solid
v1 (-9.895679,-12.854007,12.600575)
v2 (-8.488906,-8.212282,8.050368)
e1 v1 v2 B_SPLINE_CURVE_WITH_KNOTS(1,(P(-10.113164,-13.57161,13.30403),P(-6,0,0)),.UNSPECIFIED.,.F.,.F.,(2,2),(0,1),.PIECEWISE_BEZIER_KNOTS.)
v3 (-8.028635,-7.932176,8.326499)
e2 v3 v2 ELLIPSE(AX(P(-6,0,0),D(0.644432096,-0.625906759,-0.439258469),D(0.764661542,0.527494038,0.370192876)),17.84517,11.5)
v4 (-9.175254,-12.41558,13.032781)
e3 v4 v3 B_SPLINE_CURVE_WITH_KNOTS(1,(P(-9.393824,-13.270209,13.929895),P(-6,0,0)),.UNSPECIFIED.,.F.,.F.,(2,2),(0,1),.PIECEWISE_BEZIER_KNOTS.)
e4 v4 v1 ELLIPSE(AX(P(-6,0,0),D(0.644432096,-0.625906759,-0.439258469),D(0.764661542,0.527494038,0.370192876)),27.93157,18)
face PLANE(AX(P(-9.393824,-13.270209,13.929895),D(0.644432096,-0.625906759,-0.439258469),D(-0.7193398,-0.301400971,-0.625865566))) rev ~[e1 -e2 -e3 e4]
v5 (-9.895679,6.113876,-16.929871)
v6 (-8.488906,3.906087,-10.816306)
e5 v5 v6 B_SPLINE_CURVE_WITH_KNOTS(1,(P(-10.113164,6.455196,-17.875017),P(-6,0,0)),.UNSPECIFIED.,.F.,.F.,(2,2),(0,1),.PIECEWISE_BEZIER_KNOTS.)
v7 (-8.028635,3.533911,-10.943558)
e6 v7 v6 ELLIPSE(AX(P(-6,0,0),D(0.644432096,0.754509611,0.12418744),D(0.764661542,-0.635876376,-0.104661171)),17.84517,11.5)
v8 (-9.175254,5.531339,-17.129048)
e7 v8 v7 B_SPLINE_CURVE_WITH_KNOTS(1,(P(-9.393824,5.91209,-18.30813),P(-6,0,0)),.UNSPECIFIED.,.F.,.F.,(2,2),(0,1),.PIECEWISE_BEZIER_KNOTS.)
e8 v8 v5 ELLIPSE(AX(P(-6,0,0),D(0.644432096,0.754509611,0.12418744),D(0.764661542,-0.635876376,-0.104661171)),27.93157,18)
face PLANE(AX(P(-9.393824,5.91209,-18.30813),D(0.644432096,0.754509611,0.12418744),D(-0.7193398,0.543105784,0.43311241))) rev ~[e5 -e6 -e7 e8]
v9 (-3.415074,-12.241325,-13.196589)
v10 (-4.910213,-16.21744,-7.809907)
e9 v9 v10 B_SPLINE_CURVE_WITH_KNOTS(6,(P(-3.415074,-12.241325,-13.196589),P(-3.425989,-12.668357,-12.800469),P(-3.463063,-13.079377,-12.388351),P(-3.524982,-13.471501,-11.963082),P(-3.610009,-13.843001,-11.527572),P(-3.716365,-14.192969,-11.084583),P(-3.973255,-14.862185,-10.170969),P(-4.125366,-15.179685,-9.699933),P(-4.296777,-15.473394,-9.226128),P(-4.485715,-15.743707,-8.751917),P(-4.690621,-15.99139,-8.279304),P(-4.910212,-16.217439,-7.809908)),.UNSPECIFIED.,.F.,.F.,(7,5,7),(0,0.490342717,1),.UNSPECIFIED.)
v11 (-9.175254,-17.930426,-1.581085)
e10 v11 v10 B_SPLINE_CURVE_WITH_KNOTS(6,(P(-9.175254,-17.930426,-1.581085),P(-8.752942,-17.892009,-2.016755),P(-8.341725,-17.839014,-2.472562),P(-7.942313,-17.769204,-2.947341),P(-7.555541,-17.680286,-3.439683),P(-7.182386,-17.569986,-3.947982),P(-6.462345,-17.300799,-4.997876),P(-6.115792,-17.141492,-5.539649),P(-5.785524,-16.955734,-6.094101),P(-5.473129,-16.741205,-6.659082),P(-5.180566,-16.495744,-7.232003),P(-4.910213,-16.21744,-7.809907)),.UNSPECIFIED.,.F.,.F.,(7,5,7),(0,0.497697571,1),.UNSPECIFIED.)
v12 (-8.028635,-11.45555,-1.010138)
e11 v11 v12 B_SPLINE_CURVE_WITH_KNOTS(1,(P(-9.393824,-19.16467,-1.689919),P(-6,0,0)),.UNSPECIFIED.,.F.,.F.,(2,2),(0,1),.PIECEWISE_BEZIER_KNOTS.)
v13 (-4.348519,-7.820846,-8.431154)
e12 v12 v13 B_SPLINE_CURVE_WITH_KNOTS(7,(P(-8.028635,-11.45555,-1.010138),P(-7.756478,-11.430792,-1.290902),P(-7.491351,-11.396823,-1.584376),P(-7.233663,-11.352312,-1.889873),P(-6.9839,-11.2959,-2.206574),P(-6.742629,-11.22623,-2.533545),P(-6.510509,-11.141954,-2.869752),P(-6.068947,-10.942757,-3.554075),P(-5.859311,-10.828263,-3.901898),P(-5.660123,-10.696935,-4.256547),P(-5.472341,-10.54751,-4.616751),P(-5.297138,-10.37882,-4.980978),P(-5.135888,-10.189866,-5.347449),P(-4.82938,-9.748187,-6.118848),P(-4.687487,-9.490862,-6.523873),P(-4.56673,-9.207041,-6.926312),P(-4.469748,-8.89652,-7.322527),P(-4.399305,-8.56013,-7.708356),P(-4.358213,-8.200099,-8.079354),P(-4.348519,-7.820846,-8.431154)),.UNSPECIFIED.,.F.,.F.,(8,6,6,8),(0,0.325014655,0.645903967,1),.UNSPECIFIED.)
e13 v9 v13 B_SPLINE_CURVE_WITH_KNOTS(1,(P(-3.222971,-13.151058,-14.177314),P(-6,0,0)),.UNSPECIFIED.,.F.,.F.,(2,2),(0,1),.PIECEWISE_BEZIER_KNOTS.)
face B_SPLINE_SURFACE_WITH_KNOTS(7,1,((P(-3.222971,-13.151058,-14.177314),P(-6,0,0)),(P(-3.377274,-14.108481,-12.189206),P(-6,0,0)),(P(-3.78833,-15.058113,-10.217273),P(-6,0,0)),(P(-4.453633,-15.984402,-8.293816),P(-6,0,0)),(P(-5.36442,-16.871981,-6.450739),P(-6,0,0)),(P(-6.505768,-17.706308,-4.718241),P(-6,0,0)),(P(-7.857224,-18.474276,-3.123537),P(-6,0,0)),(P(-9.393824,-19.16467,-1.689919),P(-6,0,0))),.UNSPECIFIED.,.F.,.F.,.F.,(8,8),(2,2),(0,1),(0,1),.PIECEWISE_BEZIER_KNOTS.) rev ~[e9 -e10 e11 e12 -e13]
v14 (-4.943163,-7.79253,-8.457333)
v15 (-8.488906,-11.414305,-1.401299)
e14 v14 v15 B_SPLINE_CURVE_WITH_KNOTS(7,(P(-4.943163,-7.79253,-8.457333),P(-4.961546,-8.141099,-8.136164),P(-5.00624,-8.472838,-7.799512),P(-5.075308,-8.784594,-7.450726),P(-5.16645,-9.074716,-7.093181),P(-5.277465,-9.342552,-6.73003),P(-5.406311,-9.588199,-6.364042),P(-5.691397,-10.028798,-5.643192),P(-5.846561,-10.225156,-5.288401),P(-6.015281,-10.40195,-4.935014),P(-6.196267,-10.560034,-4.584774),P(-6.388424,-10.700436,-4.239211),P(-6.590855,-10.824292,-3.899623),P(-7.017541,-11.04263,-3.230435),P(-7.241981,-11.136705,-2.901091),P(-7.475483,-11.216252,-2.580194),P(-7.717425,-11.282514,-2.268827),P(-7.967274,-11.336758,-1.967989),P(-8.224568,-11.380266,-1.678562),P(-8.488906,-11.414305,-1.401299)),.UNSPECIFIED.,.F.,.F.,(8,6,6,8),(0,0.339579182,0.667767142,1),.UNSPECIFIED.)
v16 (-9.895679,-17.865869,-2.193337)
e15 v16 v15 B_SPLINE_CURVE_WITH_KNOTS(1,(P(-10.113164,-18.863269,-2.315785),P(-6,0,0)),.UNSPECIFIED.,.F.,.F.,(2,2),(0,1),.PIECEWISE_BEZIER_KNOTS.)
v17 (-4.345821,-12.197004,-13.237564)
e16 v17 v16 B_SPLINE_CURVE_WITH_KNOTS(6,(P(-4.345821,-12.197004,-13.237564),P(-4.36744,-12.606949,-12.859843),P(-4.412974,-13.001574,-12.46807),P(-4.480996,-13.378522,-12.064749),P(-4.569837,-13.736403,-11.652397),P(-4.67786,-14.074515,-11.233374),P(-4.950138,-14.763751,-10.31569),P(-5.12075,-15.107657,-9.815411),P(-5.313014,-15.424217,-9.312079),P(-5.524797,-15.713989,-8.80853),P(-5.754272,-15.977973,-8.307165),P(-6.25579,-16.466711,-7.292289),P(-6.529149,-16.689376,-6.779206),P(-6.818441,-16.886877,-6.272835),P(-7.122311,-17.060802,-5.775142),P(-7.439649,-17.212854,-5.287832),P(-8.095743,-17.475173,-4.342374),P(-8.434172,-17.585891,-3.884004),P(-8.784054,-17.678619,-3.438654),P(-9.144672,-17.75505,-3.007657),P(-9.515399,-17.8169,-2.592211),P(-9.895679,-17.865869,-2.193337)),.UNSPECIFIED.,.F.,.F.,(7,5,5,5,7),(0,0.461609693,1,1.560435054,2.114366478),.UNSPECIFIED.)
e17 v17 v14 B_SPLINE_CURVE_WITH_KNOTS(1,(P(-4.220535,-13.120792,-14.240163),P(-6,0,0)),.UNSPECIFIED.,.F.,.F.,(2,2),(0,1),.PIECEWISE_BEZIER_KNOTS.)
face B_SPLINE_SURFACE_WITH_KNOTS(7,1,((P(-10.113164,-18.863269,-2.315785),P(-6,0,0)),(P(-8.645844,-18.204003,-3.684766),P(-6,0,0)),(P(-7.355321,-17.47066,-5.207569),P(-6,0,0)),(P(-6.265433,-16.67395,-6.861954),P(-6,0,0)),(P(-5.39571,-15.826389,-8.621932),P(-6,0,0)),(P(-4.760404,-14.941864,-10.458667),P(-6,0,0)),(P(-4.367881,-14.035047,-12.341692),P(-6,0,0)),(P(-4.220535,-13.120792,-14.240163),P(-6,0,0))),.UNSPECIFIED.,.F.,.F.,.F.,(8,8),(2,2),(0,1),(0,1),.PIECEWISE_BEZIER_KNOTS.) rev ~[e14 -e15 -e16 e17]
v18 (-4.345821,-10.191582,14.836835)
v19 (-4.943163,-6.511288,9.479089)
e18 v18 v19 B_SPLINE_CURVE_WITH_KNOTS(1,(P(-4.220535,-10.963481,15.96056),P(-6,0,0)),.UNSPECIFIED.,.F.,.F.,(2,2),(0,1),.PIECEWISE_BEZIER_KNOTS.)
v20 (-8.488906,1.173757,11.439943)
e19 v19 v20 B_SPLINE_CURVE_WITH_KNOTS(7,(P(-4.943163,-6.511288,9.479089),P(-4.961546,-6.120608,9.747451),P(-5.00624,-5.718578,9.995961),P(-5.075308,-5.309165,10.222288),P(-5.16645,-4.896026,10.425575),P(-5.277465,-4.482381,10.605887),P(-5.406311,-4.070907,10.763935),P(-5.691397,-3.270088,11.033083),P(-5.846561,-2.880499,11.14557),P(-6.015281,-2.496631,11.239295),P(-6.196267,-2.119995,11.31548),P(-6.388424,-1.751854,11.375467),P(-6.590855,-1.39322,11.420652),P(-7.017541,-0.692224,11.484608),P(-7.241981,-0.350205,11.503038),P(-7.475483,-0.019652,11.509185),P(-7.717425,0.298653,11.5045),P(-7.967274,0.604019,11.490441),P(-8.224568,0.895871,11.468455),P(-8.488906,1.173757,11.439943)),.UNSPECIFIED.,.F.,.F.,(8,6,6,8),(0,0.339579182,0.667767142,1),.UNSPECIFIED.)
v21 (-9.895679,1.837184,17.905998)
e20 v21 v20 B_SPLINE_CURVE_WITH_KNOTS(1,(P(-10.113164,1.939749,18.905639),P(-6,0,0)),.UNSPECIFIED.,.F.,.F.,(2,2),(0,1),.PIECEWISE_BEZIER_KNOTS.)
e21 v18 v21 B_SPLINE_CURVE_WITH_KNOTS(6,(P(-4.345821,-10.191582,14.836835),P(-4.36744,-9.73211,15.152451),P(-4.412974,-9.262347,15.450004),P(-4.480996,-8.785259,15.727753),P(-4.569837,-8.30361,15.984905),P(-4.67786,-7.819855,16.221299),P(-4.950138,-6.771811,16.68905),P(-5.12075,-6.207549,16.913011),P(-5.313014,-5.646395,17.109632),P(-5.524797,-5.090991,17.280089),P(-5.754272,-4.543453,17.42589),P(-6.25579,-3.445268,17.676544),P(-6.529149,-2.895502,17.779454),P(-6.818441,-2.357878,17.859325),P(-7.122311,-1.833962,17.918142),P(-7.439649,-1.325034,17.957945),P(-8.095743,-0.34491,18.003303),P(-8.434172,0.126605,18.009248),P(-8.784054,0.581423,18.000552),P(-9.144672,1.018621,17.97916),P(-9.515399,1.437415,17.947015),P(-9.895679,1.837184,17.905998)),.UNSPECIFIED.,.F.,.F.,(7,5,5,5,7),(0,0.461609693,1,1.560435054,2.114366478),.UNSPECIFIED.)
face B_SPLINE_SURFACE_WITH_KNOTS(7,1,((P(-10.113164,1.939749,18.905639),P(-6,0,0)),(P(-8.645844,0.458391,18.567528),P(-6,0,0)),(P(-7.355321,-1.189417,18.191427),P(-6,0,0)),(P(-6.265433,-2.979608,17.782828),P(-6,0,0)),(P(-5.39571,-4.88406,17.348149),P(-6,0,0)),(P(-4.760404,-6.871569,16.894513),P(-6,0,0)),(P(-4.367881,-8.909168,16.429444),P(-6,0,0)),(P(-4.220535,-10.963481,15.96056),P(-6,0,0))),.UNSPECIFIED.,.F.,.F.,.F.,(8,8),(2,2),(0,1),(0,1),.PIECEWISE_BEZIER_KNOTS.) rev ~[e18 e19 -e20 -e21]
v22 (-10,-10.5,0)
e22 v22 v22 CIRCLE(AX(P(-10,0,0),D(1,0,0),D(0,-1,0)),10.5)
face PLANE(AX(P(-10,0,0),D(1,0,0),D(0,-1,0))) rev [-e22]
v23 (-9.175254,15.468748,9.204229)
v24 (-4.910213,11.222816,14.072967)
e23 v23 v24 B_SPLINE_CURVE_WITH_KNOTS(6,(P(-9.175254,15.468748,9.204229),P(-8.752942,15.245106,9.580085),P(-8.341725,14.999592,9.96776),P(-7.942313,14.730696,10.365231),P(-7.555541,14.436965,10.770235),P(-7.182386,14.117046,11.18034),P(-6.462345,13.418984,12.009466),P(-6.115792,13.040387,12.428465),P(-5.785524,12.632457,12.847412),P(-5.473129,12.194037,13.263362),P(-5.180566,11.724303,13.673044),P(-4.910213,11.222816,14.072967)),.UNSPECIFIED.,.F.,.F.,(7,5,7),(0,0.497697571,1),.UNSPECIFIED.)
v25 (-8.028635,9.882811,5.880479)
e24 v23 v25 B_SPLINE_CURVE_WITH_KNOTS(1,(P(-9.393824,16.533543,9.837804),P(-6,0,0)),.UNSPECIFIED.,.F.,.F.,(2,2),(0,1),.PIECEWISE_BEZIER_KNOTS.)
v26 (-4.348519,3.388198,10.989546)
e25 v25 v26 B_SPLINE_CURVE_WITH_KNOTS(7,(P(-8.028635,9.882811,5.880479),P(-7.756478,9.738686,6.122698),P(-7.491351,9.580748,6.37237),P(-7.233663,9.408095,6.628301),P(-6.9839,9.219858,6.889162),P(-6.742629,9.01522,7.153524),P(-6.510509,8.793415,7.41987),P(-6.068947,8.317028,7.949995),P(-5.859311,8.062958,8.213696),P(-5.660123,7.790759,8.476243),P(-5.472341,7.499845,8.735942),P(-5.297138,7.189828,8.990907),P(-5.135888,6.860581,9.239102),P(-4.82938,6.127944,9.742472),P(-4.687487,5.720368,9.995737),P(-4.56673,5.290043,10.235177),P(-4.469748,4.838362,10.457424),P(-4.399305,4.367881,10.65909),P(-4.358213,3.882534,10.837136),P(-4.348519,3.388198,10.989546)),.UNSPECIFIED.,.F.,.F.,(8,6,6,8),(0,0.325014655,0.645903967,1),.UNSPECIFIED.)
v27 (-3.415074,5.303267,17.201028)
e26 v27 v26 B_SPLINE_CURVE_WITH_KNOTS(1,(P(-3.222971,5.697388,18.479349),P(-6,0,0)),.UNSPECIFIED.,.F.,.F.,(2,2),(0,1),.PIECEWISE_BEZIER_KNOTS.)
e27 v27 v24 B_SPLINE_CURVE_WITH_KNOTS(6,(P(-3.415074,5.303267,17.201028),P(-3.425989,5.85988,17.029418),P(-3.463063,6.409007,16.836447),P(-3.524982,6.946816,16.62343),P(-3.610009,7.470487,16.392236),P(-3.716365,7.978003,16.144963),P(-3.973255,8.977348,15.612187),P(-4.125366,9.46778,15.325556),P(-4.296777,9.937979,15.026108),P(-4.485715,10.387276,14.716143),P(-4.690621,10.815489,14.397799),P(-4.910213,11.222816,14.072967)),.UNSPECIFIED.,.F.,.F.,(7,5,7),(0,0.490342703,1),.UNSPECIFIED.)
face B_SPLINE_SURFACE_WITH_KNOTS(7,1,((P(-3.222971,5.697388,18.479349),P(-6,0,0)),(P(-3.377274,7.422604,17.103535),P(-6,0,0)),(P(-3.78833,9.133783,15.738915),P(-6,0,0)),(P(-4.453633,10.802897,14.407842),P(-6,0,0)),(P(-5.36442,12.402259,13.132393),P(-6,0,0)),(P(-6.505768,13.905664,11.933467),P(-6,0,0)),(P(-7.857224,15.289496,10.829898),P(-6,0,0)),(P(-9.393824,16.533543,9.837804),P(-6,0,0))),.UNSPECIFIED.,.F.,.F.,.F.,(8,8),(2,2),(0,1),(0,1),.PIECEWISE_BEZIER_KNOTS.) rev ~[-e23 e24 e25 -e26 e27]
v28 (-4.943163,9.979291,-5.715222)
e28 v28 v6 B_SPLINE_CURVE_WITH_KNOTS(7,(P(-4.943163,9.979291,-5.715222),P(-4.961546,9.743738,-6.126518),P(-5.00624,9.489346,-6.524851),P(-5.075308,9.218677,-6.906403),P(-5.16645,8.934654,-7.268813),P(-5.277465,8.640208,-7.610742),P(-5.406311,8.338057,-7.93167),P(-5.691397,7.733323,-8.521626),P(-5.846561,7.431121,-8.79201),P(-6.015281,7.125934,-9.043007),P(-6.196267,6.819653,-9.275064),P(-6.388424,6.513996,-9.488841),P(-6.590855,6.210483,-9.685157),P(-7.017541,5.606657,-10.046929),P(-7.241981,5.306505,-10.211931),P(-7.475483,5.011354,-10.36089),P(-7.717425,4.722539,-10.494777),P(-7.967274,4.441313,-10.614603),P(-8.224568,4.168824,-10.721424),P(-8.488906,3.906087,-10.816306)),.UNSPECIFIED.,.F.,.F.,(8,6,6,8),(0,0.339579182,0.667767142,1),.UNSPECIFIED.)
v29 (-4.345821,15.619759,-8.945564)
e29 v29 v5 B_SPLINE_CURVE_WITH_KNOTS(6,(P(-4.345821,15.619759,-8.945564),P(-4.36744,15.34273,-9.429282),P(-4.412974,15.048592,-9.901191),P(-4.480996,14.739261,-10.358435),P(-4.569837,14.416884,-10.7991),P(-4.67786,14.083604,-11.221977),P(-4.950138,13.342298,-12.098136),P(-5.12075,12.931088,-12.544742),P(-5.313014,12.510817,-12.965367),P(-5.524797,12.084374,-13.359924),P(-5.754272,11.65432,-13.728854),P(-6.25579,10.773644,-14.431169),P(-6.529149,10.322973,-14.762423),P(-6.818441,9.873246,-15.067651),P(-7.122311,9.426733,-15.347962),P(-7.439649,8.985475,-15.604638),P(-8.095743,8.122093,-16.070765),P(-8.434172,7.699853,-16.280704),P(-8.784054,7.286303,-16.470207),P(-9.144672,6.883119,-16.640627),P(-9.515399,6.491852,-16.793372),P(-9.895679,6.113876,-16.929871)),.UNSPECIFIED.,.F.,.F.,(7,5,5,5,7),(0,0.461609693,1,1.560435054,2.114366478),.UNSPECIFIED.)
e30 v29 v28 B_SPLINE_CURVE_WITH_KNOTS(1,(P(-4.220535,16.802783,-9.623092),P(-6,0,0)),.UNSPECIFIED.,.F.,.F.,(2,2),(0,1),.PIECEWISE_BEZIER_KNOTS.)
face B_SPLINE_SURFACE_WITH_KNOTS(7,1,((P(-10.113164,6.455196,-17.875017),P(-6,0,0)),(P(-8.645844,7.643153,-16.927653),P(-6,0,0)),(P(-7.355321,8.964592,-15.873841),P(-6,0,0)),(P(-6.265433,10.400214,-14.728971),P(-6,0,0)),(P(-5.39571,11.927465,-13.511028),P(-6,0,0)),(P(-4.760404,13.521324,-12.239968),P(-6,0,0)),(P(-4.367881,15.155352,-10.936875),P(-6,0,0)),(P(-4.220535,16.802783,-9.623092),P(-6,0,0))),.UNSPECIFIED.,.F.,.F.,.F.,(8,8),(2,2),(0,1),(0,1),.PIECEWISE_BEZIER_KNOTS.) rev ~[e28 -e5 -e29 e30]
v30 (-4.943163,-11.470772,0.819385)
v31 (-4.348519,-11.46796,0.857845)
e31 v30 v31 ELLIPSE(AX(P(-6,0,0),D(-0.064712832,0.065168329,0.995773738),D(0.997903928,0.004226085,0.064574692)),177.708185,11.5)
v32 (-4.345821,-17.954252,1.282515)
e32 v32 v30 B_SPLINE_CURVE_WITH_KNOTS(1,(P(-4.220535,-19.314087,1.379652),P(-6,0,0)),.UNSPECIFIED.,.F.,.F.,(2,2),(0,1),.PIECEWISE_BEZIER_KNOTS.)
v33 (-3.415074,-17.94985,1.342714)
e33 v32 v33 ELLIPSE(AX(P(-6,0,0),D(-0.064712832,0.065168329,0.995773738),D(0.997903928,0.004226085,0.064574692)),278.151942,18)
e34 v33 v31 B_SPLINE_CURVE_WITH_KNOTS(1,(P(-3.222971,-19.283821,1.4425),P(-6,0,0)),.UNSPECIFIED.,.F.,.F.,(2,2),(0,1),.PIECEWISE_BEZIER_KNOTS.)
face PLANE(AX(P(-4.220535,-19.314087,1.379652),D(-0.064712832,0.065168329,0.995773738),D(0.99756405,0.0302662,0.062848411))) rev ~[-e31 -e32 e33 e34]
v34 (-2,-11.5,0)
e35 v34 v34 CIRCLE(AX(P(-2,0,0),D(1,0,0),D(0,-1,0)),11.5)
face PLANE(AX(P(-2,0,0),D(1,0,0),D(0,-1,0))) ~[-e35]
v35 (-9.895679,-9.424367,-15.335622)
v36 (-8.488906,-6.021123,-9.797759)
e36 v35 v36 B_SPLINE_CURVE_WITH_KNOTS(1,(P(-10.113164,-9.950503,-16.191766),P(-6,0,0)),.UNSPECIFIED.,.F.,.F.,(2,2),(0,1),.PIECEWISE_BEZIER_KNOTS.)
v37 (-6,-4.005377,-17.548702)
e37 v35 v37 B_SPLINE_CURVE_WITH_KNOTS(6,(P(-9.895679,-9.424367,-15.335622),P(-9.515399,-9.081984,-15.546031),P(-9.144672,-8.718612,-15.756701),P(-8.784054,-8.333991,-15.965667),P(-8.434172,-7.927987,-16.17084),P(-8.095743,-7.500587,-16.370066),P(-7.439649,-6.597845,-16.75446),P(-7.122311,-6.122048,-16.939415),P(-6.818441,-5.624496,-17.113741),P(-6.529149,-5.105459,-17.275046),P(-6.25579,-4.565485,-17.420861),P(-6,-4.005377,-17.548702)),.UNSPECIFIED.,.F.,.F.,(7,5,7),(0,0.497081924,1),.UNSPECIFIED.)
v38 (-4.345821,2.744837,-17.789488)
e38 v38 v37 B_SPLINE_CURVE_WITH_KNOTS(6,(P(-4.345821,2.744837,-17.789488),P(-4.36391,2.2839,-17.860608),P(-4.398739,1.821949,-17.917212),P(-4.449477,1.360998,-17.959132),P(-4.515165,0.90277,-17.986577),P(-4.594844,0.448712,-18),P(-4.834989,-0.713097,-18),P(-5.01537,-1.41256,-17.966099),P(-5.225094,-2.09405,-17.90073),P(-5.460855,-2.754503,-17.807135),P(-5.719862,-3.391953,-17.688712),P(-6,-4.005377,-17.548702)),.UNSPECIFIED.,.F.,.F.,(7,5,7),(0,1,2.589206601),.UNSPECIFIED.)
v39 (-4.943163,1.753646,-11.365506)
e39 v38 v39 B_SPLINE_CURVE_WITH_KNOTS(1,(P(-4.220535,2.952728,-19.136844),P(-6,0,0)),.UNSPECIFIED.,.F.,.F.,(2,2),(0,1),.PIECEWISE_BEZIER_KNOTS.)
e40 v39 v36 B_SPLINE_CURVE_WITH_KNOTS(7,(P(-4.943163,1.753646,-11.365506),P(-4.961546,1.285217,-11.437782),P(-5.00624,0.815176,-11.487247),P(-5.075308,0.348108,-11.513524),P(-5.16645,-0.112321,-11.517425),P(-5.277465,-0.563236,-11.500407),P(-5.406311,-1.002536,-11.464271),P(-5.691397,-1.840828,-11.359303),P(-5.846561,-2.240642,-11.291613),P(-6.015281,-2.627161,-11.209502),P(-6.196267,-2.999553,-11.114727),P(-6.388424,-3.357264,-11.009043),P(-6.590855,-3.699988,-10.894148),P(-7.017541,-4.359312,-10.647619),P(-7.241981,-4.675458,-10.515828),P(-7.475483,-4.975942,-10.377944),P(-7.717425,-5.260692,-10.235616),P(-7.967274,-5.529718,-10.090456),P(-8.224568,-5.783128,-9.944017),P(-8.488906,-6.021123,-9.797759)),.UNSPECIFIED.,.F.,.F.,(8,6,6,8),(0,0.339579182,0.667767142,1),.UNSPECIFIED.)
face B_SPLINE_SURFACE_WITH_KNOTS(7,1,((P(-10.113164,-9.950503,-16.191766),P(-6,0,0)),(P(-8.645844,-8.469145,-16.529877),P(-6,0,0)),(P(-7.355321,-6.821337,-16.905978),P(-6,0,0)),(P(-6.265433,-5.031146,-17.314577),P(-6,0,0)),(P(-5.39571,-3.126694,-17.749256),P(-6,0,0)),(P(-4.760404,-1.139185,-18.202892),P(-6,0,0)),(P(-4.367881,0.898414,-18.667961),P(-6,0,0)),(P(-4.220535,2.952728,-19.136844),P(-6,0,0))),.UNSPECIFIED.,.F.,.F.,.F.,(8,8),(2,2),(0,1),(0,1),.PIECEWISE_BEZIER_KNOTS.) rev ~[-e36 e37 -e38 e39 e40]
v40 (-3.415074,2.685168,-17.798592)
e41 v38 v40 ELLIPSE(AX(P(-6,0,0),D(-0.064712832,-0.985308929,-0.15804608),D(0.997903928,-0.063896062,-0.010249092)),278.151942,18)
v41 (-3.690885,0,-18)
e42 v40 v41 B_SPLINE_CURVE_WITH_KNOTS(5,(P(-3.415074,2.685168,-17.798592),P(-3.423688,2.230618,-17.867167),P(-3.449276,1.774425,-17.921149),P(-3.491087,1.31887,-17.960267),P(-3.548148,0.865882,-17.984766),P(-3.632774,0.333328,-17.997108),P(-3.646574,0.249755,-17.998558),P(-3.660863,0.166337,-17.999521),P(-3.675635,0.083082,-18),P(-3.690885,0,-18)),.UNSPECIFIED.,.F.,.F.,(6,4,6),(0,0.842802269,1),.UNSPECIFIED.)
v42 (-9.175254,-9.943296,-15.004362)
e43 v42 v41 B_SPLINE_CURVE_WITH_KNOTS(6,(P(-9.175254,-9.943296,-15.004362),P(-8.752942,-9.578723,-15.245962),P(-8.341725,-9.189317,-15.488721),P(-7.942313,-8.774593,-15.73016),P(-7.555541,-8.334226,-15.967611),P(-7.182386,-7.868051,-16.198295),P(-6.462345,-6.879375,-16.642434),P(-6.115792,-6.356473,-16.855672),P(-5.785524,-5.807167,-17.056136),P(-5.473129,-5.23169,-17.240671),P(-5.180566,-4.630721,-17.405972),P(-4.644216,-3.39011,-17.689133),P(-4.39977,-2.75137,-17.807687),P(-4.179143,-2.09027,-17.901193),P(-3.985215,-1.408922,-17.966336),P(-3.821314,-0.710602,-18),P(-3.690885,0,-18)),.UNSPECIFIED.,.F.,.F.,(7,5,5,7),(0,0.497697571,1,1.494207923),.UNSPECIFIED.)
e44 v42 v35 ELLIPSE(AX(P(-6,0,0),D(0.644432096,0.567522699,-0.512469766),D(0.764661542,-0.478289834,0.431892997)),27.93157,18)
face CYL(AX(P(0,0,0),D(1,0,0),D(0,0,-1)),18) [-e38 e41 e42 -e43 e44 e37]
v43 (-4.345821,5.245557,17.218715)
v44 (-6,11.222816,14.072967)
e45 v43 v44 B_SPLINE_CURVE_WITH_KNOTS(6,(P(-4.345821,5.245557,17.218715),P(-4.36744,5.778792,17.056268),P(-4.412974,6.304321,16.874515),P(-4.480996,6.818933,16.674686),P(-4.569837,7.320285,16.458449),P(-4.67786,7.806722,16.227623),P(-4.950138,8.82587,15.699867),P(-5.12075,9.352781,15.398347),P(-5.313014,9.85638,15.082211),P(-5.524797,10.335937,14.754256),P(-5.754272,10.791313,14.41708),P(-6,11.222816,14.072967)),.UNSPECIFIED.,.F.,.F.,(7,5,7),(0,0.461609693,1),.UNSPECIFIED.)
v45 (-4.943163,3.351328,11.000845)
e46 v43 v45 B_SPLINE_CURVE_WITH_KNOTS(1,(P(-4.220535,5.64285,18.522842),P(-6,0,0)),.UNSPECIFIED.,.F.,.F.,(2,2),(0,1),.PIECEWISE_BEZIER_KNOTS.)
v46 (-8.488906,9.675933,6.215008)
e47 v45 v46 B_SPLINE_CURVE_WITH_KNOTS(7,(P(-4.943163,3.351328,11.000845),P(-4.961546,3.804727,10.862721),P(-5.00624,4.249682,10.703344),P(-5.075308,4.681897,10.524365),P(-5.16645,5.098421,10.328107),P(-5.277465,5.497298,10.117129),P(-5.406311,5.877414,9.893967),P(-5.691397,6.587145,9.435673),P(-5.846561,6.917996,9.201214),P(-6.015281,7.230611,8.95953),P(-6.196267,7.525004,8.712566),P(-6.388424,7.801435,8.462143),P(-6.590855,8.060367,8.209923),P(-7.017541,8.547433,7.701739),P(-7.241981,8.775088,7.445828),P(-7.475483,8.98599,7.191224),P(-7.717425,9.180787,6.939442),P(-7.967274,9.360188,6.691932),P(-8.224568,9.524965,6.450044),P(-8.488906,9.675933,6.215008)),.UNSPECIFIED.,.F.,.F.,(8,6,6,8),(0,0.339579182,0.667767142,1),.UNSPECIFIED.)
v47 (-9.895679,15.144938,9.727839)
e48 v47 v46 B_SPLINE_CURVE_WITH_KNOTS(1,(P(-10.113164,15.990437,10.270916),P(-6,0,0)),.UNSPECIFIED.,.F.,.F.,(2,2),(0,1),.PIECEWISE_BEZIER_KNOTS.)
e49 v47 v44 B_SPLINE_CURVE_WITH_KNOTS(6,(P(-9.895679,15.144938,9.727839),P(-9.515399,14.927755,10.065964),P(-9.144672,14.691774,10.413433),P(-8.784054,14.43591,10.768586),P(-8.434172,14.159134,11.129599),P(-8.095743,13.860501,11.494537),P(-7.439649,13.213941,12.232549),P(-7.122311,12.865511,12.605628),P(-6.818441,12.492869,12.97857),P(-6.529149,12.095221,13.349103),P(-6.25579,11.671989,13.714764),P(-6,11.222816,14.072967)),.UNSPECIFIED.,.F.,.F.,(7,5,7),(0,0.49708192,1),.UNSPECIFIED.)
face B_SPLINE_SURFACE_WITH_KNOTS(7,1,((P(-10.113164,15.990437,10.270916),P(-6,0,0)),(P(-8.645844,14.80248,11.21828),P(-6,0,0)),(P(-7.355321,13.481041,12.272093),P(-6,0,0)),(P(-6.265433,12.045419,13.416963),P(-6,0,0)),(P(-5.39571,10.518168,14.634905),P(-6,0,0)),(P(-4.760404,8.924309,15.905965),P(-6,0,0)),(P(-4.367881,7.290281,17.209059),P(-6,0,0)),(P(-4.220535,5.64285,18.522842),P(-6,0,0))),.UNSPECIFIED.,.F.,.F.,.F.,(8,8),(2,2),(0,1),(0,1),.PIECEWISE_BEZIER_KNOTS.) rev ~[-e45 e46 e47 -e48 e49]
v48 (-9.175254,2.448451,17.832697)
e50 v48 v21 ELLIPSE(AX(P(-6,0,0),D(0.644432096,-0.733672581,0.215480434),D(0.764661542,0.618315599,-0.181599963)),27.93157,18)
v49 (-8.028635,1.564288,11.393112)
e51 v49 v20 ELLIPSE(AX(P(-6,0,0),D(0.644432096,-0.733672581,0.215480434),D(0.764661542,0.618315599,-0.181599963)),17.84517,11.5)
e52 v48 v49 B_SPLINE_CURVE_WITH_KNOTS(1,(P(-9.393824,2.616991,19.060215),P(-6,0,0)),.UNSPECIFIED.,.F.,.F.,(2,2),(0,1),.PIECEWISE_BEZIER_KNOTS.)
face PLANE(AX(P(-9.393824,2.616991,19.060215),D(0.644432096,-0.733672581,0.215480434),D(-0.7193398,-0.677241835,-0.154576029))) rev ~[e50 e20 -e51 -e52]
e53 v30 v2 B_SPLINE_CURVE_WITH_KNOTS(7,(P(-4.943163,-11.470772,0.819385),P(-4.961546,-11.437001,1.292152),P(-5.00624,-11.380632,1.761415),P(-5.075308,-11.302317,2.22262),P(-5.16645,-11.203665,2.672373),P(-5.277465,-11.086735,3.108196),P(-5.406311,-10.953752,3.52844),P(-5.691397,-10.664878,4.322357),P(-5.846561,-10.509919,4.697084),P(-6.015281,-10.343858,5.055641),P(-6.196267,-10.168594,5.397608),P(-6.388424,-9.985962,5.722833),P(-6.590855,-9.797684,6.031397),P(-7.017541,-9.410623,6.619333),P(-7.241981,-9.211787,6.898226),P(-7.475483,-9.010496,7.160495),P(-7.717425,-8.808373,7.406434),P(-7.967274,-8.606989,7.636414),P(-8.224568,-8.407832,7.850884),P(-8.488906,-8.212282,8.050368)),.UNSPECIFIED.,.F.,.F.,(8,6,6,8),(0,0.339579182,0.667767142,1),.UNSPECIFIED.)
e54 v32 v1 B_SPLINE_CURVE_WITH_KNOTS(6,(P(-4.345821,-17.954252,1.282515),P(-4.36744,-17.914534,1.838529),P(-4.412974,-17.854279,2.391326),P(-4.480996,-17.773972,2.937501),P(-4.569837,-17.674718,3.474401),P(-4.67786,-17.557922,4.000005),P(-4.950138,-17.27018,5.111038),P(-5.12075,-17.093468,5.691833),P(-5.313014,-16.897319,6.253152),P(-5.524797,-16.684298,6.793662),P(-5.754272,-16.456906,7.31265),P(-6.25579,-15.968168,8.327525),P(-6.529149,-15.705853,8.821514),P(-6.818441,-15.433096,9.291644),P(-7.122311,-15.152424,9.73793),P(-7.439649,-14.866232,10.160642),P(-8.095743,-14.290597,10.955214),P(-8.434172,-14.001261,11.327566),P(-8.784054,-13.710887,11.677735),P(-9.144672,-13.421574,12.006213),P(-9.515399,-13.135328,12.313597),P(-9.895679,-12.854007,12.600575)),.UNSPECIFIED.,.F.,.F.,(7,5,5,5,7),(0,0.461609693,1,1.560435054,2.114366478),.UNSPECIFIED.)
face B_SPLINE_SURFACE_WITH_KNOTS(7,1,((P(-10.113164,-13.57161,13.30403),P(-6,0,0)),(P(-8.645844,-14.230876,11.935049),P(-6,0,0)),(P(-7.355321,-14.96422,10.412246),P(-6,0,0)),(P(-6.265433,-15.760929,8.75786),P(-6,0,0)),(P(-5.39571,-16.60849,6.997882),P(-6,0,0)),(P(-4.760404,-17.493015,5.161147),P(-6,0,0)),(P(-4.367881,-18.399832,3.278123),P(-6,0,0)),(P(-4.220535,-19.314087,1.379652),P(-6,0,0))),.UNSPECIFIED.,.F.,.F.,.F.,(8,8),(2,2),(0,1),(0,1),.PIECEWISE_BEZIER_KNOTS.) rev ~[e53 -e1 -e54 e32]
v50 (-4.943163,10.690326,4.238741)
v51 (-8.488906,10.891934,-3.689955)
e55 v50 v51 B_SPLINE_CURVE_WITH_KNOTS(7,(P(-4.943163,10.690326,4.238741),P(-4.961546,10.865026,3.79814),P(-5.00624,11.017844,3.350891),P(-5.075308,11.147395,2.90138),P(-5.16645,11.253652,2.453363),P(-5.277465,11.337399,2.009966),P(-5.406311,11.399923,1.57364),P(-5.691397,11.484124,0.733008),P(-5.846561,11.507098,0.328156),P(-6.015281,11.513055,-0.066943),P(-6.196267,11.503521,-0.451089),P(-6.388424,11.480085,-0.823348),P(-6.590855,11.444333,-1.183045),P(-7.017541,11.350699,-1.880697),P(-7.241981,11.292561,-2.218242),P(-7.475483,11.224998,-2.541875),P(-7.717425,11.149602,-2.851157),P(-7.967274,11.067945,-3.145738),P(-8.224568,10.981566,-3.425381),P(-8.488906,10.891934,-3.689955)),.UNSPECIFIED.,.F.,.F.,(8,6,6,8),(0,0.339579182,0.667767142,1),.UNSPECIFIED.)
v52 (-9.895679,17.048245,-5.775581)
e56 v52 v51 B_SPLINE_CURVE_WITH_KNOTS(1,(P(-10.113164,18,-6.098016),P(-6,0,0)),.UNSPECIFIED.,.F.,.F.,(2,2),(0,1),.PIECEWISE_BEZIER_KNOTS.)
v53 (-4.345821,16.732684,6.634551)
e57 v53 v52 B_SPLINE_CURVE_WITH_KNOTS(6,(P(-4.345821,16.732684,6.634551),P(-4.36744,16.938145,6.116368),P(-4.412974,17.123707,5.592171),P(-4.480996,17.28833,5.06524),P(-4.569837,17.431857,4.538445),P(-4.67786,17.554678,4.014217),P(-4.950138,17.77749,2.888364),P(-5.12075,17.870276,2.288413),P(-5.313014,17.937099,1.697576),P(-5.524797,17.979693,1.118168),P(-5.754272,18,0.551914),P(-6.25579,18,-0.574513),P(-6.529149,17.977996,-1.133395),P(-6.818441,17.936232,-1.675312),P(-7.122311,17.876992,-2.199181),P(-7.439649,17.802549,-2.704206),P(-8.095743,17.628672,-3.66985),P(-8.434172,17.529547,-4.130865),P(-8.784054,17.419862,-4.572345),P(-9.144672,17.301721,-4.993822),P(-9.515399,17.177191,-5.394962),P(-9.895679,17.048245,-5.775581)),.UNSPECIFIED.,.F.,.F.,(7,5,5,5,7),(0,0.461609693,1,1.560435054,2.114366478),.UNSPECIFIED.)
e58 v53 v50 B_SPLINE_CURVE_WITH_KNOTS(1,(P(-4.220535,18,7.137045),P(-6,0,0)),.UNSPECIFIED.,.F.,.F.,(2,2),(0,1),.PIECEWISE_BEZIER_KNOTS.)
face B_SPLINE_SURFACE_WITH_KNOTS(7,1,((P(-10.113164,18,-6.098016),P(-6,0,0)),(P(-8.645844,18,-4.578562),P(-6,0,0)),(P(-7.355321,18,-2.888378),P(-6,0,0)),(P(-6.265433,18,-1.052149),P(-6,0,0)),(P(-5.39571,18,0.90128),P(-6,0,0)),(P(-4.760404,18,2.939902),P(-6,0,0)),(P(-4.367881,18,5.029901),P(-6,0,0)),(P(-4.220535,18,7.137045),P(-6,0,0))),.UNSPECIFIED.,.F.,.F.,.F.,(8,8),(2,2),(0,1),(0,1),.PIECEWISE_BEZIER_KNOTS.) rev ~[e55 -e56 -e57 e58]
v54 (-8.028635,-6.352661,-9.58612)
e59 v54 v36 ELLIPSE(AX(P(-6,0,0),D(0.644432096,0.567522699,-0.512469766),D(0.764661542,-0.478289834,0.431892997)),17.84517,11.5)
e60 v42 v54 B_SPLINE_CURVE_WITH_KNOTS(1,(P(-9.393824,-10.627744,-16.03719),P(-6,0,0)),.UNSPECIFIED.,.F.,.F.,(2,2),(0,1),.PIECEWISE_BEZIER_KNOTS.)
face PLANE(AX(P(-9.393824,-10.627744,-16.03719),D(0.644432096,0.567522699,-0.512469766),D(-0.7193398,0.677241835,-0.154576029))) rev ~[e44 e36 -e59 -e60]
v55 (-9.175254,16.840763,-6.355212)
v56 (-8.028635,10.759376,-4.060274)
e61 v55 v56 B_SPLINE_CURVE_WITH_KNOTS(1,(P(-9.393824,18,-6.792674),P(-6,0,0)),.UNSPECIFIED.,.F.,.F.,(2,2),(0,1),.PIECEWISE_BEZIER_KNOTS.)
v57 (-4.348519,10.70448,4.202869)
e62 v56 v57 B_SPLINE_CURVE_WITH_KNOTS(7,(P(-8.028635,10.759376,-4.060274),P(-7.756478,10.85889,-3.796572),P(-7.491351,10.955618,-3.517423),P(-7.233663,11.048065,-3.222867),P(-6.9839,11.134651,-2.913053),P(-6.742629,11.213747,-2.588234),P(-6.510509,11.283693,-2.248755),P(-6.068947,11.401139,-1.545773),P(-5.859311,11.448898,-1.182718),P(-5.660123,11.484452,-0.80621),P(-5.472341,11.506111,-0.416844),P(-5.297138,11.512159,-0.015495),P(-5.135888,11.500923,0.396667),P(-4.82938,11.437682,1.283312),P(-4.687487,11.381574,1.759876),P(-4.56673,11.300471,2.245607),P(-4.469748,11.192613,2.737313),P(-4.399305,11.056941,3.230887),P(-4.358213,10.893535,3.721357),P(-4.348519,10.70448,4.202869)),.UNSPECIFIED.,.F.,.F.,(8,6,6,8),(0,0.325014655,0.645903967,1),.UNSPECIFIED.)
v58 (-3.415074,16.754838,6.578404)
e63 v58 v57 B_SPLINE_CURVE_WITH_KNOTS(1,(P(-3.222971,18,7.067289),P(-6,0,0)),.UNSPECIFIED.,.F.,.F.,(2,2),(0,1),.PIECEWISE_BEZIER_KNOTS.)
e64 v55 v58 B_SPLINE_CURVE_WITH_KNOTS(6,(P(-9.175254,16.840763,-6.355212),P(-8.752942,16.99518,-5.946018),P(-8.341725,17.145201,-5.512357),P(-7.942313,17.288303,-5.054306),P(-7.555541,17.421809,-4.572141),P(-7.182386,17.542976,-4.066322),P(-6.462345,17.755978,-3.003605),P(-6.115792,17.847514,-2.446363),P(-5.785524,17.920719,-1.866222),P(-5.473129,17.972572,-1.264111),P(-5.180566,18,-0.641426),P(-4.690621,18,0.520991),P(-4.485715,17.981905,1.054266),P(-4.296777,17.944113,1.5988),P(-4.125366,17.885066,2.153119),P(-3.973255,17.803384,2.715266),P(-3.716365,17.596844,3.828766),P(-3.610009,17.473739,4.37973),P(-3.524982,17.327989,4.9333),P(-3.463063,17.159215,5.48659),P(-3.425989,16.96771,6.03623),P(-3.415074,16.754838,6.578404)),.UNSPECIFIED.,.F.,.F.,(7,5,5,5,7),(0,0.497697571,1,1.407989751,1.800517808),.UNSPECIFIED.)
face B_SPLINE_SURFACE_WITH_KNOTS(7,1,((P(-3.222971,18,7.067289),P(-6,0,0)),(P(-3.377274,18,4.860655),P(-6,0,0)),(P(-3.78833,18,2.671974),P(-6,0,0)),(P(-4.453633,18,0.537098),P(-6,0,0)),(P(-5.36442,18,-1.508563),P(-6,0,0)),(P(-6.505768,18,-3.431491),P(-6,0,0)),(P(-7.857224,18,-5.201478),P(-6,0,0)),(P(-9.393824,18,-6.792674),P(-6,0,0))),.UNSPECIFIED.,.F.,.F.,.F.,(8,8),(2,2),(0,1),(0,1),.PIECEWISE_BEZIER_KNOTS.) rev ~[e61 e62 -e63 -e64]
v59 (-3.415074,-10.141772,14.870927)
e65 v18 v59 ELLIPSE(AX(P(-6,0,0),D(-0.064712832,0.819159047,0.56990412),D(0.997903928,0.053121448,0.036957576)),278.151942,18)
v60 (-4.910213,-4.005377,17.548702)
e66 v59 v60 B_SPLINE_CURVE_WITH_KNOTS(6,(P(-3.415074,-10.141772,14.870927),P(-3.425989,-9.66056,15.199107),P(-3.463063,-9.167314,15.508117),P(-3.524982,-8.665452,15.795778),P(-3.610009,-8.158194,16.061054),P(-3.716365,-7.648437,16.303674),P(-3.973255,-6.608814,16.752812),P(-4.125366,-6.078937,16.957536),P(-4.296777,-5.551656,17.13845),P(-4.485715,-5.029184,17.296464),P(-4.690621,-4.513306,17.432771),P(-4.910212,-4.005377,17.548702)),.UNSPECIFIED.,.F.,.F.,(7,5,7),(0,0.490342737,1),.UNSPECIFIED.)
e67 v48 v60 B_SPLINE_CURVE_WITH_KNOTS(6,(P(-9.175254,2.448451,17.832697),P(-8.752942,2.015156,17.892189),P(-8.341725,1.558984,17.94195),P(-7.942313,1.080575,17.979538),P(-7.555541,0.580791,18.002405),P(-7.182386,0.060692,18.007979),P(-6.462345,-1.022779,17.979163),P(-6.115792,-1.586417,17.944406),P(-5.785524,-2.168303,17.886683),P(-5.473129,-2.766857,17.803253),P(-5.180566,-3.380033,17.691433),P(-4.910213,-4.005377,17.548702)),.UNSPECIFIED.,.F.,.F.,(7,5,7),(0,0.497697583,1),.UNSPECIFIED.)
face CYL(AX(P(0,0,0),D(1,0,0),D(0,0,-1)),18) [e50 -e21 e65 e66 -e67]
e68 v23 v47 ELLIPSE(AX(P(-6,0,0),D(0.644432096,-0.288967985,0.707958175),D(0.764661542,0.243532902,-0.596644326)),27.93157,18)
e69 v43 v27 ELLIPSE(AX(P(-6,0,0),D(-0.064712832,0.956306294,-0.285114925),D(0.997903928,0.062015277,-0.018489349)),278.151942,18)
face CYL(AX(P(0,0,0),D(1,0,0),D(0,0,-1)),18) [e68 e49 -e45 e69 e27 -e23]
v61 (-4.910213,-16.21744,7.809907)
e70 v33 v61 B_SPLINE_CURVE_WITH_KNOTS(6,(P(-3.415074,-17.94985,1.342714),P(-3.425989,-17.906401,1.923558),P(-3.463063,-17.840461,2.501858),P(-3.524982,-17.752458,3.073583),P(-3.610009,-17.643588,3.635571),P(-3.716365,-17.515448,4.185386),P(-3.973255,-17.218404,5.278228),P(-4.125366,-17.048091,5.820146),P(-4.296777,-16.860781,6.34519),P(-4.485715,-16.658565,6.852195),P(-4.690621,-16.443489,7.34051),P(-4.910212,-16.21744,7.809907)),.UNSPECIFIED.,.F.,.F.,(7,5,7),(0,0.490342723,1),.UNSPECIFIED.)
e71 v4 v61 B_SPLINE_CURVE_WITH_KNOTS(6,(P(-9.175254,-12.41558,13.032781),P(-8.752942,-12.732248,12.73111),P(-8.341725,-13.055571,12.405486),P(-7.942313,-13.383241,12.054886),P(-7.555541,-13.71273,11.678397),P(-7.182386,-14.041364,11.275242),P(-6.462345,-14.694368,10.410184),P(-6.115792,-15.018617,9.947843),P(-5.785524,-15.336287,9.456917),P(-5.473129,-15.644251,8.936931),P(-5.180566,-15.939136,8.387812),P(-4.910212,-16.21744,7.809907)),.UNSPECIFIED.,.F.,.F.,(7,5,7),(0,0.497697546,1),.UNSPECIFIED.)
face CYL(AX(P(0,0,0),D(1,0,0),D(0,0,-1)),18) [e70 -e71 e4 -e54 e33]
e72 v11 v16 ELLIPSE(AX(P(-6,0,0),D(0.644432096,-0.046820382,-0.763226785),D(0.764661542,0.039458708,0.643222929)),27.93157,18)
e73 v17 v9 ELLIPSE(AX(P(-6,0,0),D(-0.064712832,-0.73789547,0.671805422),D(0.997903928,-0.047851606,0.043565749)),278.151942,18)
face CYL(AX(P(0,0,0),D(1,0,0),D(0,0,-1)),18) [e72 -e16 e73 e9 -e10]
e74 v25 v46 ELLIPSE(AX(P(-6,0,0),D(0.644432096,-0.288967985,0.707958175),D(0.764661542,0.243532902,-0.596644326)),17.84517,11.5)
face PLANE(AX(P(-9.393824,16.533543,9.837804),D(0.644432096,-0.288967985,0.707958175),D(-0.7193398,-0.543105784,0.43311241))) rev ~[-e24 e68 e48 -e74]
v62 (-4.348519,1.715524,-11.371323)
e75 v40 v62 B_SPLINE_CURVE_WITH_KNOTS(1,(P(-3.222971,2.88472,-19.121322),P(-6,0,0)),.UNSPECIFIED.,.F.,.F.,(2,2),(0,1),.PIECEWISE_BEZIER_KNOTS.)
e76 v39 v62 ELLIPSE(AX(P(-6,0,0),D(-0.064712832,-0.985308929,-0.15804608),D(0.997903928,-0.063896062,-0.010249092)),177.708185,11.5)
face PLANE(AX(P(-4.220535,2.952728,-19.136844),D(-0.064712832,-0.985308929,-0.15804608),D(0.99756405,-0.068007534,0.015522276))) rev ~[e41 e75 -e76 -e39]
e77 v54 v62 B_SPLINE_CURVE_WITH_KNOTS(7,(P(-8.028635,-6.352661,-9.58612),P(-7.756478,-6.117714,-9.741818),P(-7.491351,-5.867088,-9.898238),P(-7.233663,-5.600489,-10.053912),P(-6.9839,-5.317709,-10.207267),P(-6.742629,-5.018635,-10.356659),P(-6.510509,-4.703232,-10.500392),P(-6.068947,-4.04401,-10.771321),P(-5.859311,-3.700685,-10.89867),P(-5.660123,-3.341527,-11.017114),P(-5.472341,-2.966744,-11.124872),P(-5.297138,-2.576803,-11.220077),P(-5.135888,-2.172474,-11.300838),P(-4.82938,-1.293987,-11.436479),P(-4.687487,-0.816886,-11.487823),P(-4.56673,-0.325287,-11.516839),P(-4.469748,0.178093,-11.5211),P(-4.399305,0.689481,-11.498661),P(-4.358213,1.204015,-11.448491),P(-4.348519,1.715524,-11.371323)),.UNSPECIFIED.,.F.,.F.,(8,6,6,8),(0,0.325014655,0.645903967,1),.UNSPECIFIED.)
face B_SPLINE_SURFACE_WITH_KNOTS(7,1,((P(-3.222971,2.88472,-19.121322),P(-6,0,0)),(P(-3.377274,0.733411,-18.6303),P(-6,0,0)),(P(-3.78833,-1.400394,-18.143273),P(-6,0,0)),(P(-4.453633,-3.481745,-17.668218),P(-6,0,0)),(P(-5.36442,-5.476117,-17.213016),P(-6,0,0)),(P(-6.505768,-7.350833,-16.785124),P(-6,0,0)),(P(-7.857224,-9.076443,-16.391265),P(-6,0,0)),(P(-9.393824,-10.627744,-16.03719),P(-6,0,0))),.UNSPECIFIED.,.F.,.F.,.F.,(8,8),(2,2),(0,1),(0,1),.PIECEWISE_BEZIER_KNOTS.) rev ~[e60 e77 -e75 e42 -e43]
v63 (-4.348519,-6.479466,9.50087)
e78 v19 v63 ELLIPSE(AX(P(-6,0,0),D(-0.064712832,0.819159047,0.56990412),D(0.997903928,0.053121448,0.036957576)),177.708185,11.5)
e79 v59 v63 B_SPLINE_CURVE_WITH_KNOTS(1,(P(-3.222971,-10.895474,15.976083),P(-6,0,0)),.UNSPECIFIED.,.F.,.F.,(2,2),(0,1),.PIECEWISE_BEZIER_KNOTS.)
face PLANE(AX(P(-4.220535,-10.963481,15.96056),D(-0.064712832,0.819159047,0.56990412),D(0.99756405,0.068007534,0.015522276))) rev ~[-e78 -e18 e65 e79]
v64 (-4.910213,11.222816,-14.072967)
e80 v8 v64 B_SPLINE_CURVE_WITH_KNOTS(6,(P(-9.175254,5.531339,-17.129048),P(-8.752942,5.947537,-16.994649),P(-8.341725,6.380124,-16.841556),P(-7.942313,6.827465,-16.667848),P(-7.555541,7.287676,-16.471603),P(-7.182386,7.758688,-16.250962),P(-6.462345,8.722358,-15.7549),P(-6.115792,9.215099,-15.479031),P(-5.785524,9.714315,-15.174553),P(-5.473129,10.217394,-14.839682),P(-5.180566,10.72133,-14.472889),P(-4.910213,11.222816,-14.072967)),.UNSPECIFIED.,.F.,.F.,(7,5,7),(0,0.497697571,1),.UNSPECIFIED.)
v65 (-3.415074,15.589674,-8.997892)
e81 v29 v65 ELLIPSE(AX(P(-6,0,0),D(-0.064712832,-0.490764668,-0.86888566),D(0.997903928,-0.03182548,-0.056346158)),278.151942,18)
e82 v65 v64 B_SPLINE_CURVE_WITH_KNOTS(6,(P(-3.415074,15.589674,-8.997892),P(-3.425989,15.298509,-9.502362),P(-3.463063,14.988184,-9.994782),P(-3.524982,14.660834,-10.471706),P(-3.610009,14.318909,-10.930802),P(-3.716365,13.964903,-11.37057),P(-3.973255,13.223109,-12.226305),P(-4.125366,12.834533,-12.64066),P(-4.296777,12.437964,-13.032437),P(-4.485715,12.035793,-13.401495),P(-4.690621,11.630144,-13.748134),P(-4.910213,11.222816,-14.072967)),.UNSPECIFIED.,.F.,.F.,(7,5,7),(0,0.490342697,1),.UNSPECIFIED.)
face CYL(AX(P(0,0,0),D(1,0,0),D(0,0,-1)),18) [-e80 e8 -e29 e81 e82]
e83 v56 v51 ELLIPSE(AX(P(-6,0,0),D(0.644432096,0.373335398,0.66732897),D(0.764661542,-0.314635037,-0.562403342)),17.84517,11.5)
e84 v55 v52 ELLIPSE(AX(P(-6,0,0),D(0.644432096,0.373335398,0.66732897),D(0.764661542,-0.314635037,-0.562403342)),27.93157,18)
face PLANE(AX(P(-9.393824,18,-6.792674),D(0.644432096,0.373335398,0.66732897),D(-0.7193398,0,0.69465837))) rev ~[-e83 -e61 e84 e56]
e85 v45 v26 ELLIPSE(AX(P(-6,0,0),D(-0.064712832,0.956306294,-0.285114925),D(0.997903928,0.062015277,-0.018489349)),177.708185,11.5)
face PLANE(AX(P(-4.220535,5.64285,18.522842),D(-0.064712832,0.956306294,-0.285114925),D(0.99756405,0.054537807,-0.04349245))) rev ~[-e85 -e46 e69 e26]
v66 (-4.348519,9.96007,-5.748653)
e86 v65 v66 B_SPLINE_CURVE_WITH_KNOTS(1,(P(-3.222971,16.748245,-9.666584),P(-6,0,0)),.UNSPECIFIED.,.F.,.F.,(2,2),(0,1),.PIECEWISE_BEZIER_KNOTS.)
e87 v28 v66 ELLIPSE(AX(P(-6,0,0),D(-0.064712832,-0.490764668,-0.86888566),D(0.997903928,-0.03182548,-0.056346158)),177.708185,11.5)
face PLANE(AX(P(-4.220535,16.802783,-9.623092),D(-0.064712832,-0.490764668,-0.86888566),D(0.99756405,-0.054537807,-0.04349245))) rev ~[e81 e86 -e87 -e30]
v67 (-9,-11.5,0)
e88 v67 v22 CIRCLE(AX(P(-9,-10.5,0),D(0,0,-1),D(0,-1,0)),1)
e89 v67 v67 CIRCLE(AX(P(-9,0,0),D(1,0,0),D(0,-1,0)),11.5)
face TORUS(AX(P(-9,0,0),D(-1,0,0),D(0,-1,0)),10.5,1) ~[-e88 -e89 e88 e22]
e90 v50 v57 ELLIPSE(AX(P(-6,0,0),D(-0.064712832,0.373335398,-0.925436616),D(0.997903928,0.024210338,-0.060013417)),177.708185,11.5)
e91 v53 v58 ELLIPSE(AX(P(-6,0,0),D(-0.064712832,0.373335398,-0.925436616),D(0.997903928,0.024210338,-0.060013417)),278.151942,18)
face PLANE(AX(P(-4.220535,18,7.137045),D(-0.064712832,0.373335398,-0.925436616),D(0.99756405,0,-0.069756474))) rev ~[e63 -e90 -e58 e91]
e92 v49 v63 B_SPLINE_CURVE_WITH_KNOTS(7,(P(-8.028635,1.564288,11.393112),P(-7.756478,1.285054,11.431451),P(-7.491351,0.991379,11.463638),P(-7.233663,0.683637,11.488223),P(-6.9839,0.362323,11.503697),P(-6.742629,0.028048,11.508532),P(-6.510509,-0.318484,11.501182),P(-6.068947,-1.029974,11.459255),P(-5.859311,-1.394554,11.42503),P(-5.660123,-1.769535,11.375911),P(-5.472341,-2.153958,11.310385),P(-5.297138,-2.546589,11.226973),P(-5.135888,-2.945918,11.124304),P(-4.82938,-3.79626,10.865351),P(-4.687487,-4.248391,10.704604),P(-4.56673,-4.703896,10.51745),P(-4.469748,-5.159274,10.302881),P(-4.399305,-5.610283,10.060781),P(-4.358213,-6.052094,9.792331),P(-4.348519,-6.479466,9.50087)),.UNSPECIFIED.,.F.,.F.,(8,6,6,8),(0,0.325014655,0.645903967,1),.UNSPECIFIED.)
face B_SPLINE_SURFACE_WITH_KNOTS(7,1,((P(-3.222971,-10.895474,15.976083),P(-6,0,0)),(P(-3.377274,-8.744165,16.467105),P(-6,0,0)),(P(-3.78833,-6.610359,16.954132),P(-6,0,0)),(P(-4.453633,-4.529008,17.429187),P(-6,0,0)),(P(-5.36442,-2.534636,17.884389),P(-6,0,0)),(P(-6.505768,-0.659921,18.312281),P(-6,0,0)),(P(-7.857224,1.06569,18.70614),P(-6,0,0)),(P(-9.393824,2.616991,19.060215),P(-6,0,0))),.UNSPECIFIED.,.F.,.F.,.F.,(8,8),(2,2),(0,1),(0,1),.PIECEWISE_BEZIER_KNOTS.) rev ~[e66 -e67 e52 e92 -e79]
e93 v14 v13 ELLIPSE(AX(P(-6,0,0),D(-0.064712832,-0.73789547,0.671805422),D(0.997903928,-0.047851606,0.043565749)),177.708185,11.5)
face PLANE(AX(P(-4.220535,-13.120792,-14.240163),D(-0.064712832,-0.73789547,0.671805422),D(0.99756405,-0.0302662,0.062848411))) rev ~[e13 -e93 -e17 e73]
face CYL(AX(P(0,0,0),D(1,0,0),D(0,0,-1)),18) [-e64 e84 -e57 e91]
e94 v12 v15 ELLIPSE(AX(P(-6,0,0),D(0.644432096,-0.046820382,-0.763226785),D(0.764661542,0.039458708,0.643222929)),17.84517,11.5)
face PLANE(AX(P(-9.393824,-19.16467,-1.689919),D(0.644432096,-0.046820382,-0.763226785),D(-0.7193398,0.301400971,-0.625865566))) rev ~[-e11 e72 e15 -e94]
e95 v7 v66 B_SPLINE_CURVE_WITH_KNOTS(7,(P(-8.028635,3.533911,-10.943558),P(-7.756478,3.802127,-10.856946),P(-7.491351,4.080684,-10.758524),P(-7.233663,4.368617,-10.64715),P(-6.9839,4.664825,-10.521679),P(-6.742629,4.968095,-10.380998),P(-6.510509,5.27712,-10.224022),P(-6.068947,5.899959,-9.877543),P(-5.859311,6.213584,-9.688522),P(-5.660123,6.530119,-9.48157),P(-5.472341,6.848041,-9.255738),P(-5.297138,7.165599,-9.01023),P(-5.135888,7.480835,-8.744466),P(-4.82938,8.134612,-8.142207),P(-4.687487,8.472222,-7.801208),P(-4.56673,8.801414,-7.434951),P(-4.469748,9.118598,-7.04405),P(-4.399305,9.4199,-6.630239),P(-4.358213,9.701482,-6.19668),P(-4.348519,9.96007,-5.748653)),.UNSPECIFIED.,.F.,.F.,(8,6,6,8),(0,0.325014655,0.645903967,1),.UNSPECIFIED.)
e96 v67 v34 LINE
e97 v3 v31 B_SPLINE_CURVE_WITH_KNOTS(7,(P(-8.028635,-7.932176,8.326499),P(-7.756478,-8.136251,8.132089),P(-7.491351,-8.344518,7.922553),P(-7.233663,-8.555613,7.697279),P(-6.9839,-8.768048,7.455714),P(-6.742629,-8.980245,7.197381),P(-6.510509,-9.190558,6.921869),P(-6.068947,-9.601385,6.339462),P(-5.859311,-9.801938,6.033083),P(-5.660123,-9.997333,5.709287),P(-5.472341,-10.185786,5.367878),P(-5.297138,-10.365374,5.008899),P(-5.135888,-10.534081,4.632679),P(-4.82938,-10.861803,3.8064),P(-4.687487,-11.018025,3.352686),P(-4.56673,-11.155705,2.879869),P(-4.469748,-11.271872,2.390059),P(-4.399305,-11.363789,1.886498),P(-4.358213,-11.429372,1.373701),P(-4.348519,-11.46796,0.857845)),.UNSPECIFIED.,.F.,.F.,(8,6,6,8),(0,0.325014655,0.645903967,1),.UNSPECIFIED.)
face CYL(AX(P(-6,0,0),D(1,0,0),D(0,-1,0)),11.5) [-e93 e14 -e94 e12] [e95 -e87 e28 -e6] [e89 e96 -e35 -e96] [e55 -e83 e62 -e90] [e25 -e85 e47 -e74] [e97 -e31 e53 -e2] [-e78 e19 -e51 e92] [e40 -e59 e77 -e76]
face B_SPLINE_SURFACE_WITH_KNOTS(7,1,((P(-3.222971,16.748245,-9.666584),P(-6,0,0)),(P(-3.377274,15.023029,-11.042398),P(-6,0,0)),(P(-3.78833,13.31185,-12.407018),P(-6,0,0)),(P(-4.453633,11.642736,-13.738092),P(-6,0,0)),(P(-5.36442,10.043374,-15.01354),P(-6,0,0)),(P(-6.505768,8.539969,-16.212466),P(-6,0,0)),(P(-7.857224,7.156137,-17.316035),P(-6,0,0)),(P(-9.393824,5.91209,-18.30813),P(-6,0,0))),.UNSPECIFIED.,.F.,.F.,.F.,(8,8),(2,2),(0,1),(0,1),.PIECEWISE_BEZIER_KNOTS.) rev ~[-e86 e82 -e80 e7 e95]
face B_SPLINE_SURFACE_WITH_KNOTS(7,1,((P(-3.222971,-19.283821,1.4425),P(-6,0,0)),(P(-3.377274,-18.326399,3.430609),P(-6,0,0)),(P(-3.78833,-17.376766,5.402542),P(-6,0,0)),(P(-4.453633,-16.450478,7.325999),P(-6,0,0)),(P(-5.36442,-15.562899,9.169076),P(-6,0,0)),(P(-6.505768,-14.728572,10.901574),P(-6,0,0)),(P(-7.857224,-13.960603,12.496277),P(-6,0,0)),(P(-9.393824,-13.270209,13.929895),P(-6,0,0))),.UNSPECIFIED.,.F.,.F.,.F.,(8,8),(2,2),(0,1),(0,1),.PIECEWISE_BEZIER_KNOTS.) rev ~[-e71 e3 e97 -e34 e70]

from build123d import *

# Parameters (mm, degrees)
SKETCH5_W                  = 8
SKETCH5_H                  = 11.5
CIRPATTERN1_COUNT          = 7
SKETCH_CUT_BLADE_OUTSIDE_W = 50.999
SKETCH_CUT_BLADE_OUTSIDE_H = 50.116
SKETCH_CUT_BLADE_OUTSIDE_R = 18
CUT_FAN_BLADE_DEPTH        = 30.009117079
COSMETIC_FILLET_R          = 1


with BuildPart() as part:
    # Sketch5 → Body (revolve)
    with BuildSketch(Plane.XY, mode=Mode.PRIVATE) as body_sk:
        with Locations((-6, 5.75)):
            Rectangle(SKETCH5_W, SKETCH5_H)
    revolve(body_sk.sketch.rotate(Axis((-10, 0, 0), (1, 0, 0)), 180), axis=Axis((-10, 0, 0), (1, 0, 0)))

    # Sketch-Blade-Top → Loft-Fan-Blade section 0
    with BuildSketch(Plane(origin=(0, 18, 0), x_dir=(-1, 0, 0), z_dir=(0, 1, 0)), mode=Mode.PRIVATE) as loft_fan_blade_s0:
        with BuildLine():
            Line((4.220534784, 7.137045162), (3.222970733, 7.067288688))
            ThreePointArc((3.222970733, 7.067288688), (5.086454542, -0.406736643), (9.393823742, -6.792674095))
            Line((9.393823742, -6.792674095), (10.113163542, -6.098015725))
            ThreePointArc((10.113163542, -6.098015725), (6, 0), (4.220534784, 7.137045162))
        make_face()
    loft_fan_blade = loft([loft_fan_blade_s0.sketch, Vertex(-6, 0, 0)])

    # CirPattern1: Loft-Fan-Blade ×7 about axis
    cirpattern1_axis = Axis((-10, 0, 0), (1, 0, 0))
    for i in range(1, CIRPATTERN1_COUNT):
        add(loft_fan_blade.rotate(cirpattern1_axis, i * 360 / CIRPATTERN1_COUNT))

    # Sketch-Cut-Blade outside → Cut-Fan-Blade (cut, through all)
    with BuildSketch(Plane(origin=(0, 0, 0), x_dir=(0, 0, -1), z_dir=(1, 0, 0))):
        with Locations((0.0385, -0.657)):
            Rectangle(SKETCH_CUT_BLADE_OUTSIDE_W, SKETCH_CUT_BLADE_OUTSIDE_H)
        Circle(SKETCH_CUT_BLADE_OUTSIDE_R, mode=Mode.SUBTRACT)
    extrude(amount=-CUT_FAN_BLADE_DEPTH, mode=Mode.SUBTRACT)

    # Cosmetic-Fillet
    cosmetic_fillet_edges = [part.edges().sort_by_distance(p)[0] for p in [
        (-10, 11.5, 0),
    ]]
    fillet(cosmetic_fillet_edges, radius=COSMETIC_FILLET_R)


solid = part.part
